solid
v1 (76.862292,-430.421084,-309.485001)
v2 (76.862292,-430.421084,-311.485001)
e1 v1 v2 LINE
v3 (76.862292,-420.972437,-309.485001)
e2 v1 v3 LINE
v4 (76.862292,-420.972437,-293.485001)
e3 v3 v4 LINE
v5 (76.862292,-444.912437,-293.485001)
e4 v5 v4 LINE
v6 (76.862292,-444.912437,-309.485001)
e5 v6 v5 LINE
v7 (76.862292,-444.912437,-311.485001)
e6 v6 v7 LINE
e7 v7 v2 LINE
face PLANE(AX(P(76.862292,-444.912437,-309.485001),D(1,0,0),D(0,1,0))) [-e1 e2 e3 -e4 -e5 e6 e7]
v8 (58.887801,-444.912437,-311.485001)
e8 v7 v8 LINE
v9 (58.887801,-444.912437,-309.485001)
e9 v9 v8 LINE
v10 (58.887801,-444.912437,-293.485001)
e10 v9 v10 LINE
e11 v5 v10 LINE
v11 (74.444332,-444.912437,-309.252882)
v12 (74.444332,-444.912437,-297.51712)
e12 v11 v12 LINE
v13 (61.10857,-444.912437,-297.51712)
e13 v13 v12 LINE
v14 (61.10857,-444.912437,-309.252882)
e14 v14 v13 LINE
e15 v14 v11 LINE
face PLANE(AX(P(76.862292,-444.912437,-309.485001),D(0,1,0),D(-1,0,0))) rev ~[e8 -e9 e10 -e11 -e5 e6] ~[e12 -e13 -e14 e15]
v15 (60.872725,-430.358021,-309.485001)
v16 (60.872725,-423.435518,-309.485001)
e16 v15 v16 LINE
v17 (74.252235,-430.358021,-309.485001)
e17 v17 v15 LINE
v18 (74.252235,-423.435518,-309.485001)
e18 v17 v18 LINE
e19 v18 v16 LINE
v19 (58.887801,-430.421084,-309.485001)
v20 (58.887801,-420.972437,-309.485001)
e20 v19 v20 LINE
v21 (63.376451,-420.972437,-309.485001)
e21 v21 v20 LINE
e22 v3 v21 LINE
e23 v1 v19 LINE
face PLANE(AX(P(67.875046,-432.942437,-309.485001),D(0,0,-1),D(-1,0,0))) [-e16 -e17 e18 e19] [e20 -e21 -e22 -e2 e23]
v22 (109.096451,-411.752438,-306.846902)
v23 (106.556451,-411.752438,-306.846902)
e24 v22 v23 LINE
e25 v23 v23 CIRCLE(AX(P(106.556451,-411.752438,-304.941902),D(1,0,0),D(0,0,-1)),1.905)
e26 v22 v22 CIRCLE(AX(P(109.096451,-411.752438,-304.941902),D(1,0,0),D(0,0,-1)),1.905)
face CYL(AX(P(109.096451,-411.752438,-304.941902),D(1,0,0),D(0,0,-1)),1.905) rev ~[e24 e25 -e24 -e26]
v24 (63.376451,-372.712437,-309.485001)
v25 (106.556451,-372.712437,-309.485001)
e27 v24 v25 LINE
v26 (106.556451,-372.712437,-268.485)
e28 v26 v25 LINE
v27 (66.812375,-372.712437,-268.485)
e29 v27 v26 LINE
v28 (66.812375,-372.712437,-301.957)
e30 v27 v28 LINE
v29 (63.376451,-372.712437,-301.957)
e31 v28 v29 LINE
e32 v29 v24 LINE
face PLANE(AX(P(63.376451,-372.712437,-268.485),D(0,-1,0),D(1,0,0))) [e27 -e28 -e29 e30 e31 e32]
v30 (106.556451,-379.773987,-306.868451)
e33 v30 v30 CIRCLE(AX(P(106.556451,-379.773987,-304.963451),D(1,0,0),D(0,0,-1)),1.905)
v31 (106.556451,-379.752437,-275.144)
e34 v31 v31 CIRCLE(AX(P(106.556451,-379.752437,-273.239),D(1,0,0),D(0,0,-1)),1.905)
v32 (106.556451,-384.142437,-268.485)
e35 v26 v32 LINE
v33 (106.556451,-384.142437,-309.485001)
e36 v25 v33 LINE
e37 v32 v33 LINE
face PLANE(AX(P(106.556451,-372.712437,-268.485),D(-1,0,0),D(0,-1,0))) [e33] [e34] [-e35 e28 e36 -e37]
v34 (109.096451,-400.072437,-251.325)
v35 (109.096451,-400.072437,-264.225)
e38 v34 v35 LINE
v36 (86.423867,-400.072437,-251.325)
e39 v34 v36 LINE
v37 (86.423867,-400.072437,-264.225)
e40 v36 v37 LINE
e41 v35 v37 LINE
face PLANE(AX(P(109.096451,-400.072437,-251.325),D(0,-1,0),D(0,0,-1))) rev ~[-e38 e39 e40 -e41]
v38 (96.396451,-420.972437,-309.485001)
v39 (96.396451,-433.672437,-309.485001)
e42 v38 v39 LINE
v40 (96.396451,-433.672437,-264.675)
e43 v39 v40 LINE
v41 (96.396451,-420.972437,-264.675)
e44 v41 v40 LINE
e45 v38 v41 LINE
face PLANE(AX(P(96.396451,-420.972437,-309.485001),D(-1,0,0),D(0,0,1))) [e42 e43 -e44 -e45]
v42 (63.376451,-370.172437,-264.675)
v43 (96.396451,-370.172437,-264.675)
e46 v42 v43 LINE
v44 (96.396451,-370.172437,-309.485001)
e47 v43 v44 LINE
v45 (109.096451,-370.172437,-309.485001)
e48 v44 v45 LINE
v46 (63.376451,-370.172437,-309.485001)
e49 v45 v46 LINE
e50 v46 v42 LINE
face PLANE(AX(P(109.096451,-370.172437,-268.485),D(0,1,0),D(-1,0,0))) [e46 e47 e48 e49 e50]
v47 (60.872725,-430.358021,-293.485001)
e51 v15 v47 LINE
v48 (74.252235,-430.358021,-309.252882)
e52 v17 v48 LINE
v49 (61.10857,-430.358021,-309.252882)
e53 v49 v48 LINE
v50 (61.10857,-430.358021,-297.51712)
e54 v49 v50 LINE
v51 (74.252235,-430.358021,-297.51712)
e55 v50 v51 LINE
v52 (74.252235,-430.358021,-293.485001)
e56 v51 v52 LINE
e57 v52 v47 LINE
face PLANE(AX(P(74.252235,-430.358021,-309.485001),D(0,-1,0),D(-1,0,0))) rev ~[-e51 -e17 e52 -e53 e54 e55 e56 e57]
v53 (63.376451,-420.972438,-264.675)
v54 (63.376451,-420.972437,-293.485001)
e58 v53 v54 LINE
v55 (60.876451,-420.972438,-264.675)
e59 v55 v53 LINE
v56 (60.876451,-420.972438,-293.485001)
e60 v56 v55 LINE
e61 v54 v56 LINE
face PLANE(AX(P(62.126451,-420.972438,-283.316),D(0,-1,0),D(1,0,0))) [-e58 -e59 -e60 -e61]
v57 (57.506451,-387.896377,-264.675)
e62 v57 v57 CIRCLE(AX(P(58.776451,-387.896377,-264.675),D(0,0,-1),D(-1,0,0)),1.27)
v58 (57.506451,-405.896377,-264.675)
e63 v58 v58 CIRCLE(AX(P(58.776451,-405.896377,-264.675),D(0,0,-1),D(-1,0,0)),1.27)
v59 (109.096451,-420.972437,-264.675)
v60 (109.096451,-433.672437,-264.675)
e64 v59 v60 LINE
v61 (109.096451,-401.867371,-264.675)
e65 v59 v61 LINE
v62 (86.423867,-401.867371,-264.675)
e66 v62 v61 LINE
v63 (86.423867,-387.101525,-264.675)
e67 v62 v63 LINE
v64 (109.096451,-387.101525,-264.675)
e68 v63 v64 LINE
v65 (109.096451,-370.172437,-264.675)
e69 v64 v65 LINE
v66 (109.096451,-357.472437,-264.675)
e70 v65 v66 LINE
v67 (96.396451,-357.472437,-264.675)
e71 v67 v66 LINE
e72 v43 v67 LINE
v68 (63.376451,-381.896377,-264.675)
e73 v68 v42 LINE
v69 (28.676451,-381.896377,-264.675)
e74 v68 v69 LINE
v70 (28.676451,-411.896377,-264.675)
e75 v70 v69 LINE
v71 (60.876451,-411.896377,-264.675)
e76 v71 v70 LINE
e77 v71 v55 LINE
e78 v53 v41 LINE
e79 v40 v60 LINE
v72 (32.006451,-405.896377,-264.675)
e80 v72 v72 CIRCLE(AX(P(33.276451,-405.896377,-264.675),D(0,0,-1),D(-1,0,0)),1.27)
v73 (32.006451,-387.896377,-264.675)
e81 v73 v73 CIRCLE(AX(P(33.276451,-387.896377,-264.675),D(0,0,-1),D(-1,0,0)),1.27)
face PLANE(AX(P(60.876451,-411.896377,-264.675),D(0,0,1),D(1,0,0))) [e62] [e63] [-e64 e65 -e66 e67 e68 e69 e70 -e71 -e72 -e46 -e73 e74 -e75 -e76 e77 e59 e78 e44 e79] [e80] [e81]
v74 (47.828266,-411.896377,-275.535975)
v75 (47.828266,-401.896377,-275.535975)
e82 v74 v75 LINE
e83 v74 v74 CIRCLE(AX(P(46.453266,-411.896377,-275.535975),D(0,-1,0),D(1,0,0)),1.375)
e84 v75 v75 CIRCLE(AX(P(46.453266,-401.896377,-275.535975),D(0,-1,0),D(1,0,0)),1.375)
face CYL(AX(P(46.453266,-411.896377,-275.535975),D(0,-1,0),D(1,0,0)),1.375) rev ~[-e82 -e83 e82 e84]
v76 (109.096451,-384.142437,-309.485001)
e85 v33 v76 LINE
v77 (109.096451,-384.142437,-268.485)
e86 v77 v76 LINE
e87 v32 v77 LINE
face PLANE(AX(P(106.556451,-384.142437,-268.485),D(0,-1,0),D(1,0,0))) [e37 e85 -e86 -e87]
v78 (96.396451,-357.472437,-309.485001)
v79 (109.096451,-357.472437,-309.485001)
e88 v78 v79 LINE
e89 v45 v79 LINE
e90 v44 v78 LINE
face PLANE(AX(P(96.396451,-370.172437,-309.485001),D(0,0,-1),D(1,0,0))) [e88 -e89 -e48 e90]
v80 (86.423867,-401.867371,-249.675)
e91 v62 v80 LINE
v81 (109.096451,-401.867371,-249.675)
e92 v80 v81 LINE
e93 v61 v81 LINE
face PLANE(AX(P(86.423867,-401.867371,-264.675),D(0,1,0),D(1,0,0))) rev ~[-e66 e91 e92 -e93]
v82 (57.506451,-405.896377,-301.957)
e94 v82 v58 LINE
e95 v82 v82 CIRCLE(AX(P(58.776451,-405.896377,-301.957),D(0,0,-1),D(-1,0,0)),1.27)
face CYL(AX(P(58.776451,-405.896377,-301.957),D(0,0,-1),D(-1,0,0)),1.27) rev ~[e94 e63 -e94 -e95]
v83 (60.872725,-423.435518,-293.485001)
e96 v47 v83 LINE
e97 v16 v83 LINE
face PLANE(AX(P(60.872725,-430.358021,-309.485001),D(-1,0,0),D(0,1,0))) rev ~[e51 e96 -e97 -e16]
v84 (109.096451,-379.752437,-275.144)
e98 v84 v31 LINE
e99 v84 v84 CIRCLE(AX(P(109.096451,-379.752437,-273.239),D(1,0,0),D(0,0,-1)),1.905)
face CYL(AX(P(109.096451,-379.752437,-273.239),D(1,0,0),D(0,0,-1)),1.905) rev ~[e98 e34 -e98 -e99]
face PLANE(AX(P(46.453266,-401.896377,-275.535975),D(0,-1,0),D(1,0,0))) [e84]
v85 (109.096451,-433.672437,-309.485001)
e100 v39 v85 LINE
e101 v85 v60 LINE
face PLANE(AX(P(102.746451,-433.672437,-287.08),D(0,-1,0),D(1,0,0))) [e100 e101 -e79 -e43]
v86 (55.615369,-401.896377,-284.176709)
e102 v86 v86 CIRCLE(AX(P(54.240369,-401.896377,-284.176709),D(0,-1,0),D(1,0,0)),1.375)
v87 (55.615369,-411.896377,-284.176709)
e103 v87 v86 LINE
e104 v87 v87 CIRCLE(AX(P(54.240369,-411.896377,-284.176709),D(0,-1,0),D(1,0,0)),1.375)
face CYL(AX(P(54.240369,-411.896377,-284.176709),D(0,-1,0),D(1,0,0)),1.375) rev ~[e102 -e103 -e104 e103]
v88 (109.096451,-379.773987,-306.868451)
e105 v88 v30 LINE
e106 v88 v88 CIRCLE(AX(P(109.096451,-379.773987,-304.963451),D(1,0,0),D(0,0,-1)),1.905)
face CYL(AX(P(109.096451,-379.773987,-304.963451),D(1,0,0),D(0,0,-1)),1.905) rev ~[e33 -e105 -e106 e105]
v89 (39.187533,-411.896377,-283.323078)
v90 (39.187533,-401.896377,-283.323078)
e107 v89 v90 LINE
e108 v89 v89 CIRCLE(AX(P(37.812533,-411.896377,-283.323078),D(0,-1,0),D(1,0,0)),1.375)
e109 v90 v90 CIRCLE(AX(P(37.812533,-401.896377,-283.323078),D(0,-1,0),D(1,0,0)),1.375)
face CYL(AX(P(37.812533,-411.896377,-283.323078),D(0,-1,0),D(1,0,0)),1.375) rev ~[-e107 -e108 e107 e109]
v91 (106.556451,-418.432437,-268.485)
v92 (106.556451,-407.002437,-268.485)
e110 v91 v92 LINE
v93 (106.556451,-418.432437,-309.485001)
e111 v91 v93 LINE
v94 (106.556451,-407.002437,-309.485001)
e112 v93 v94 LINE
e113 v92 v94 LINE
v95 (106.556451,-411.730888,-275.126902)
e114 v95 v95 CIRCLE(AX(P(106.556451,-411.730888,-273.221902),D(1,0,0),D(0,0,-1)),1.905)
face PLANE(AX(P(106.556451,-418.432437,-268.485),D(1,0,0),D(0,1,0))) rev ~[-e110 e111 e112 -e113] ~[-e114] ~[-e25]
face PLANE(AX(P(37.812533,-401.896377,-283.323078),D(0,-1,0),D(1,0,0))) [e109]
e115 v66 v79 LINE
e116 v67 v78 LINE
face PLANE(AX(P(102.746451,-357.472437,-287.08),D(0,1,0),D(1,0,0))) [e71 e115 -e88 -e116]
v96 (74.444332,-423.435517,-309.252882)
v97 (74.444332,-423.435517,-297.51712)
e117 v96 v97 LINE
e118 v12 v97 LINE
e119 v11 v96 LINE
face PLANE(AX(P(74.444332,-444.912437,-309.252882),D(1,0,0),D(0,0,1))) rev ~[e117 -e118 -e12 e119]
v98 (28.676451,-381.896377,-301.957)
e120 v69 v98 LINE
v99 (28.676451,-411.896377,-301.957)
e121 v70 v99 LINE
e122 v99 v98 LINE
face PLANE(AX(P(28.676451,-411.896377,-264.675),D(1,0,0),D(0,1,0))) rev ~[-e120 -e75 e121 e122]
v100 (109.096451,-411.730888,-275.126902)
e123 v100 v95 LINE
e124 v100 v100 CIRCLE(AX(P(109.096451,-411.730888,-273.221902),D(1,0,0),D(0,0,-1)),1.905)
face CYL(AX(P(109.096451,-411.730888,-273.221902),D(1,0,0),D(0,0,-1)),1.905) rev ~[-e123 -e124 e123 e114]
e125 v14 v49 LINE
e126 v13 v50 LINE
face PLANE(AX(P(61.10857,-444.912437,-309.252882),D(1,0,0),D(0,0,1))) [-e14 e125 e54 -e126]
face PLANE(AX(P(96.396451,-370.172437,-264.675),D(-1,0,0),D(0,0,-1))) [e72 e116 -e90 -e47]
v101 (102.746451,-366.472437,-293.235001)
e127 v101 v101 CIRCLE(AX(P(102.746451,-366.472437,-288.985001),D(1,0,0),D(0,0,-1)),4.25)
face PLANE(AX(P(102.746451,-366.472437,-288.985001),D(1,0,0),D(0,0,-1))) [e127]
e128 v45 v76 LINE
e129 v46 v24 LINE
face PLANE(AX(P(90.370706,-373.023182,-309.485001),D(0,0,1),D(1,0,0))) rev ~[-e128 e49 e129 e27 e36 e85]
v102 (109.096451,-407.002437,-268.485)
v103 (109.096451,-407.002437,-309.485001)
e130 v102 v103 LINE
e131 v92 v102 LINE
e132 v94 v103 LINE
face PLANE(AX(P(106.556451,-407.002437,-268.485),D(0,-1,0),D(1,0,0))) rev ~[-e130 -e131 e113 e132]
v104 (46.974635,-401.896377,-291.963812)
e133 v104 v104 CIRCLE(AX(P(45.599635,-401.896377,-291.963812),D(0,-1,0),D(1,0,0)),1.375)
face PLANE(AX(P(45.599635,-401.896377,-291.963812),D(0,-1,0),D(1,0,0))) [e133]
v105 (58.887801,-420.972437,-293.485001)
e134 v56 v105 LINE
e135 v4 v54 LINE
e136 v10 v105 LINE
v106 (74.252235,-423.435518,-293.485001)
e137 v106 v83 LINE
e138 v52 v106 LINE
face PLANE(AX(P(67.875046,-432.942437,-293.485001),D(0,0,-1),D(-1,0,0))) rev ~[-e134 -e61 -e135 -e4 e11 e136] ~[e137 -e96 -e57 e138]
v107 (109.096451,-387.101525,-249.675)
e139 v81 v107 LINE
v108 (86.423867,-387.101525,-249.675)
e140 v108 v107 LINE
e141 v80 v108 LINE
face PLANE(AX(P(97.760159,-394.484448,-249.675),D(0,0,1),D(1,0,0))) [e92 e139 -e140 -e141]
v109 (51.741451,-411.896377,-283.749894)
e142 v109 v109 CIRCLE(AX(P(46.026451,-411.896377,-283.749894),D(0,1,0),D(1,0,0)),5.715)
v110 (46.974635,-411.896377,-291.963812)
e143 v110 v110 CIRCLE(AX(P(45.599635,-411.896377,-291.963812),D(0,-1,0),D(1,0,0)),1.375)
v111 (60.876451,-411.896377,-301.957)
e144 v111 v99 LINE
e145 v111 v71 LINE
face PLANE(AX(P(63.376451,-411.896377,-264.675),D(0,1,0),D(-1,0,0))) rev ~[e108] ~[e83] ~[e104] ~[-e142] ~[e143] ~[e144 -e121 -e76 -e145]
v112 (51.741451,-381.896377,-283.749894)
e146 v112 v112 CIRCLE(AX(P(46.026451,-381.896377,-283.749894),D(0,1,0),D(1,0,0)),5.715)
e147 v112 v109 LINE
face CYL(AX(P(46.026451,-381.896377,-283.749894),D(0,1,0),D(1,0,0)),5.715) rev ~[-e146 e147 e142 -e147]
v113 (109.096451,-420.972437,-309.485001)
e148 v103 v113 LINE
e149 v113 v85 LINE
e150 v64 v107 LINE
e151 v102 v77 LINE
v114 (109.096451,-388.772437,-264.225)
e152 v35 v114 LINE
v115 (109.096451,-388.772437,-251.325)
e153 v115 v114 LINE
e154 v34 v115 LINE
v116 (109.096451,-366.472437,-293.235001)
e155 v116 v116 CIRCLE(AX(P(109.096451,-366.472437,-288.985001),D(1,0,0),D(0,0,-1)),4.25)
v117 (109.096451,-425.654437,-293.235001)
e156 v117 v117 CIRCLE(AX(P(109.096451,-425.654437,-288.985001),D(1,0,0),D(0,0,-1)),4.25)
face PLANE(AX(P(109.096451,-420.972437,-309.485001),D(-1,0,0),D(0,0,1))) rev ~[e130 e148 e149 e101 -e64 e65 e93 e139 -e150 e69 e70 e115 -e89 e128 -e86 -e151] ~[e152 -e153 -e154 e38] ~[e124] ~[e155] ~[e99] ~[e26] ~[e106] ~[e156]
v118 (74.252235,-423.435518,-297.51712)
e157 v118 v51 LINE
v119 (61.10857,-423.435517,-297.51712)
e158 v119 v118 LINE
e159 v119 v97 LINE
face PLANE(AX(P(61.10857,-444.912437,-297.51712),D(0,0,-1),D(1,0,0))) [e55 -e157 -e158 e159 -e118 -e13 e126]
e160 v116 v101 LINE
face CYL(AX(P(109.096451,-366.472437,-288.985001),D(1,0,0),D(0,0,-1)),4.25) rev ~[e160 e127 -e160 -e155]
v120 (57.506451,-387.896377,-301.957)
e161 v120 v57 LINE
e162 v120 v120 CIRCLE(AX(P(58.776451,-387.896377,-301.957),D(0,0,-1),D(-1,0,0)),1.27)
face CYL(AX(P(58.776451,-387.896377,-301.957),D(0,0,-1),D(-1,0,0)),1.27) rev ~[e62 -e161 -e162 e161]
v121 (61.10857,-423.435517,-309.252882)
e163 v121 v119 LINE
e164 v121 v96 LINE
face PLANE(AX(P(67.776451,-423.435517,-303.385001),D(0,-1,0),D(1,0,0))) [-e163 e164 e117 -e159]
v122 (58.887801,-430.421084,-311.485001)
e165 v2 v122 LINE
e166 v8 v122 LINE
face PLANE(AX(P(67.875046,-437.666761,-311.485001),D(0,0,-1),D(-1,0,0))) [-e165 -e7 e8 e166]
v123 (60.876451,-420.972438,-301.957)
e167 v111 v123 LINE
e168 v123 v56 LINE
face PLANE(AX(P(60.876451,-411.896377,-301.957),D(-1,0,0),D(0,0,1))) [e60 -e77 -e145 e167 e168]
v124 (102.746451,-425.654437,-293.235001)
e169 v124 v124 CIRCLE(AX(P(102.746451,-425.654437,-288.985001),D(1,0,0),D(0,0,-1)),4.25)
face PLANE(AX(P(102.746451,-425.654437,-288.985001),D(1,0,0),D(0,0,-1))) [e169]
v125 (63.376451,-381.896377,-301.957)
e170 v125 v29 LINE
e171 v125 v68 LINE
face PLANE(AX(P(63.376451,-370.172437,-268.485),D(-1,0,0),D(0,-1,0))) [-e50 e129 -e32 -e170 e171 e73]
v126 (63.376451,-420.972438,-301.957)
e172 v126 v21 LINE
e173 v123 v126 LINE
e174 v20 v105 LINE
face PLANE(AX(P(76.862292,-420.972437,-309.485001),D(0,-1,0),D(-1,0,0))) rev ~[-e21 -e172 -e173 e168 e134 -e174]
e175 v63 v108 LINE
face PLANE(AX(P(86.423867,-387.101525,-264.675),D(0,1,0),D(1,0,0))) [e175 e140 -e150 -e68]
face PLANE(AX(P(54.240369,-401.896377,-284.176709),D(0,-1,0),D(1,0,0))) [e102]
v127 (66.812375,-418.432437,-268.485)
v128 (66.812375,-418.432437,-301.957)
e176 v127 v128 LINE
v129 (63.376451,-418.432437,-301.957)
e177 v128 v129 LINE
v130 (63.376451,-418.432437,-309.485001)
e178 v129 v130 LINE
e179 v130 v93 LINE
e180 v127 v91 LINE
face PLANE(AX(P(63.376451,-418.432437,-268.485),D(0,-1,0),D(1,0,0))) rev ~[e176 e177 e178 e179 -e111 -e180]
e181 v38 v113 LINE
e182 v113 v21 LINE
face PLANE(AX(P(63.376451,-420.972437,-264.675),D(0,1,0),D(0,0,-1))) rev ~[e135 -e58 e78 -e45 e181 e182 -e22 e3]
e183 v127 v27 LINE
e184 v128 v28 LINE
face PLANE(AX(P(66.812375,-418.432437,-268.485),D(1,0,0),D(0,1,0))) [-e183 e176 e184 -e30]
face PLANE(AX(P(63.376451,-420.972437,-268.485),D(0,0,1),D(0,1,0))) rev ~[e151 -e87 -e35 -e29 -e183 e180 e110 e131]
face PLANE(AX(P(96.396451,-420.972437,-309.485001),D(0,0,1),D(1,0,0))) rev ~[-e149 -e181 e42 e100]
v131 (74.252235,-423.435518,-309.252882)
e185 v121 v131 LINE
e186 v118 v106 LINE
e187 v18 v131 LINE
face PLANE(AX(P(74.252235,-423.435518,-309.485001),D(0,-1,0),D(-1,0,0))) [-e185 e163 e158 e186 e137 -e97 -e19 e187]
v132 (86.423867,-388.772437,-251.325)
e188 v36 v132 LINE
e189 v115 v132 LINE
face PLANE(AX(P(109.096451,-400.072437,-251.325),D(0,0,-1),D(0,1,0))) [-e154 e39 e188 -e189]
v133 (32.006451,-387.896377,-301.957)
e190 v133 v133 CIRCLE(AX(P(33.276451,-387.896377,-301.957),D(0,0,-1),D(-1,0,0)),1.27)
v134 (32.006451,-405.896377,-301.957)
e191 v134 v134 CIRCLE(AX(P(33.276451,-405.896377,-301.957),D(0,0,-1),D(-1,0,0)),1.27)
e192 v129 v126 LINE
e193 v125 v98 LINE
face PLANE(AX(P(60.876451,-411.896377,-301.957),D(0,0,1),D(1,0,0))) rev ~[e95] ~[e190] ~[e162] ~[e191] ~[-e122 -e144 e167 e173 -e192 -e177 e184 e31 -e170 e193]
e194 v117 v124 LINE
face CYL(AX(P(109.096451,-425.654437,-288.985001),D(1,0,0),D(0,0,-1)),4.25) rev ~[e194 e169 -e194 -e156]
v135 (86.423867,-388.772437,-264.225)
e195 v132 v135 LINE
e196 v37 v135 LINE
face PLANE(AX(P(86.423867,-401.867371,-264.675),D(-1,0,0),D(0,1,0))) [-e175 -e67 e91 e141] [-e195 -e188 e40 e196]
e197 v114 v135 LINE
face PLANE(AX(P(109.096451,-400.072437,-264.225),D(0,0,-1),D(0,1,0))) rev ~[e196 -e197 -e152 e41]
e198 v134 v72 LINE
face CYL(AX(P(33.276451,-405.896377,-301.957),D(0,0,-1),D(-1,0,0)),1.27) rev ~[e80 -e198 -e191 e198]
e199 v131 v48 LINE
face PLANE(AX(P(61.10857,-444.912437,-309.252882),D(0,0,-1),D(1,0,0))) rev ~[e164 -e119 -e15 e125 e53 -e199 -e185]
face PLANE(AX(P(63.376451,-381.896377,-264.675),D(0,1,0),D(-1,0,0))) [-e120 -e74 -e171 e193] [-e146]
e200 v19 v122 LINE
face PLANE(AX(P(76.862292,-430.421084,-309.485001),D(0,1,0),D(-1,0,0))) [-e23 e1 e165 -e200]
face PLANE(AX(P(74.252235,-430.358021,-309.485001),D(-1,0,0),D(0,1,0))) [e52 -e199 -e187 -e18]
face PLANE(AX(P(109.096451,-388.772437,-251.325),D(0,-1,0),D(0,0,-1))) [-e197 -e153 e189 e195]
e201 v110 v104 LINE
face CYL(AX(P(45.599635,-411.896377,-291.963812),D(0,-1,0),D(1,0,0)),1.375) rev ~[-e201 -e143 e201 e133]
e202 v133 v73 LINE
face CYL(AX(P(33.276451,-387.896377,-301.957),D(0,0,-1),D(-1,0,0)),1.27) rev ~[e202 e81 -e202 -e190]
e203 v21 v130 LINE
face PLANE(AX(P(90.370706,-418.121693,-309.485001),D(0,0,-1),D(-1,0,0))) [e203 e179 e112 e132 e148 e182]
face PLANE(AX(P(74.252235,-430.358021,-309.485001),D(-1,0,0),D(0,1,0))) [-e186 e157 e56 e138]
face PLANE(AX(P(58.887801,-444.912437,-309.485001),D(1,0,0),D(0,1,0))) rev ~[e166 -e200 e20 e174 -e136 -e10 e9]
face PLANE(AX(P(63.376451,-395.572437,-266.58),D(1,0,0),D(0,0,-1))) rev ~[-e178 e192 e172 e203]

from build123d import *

# Parameters (mm, degrees)
SKETCH1_W            = 34.7
SKETCH1_H            = 30
BOSS_EXTRUDE1_DEPTH  = 37.282
SKETCH4_R            = 5.715
CUT_EXTRUDE1_DEPTH   = 31
SKETCH8_W            = 3.81
SKETCH8_H            = 50.8
BOSS_EXTRUDE6_DEPTH  = 45.72
BOSS_EXTRUDE7_DEPTH  = 41.000001
CUT_EXTRUDE2_REACH   = 82.42
SKETCH10_R           = 1.905
SKETCH11_W           = 12.7
SKETCH11_H           = 44.810000611
BOSS_EXTRUDE8_DEPTH  = 12.7
SKETCH12_W           = 12.7
SKETCH12_H           = 44.810000611
BOSS_EXTRUDE9_DEPTH  = 12.7
SKETCH13_R           = 4.25
CUT_EXTRUDE3_DEPTH   = 6.35
SKETCH17_W           = 3.43592392
SKETCH17_H           = 45.72
BOSS_EXTRUDE12_DEPTH = 33.472
SKETCH16_W           = 2.5
SKETCH16_H           = 37.282
BOSS_EXTRUDE11_DEPTH = 9.076061
SKETCH21_W           = 17.974491303
SKETCH21_H           = 23.94
BOSS_EXTRUDE13_DEPTH = 16
SKETCH22_W           = 13.379509134
SKETCH22_H           = 6.922502695
CUT_EXTRUDE4_DEPTH   = 45.810000611
SKETCH23_W           = 13.335762063
SKETCH23_H           = 11.735762062
CUT_EXTRUDE5_DEPTH   = 21.47692
SKETCH24_W           = 22.672584076
SKETCH24_H           = 14.765845737
BOSS_EXTRUDE14_DEPTH = 15
SKETCH25_W           = 12.9
SKETCH25_H           = 11.3
CUT_EXTRUDE6_DEPTH   = 22.672584
SKETCH5_R            = 1.375
CUT_EXTRUDE7_DEPTH   = 10
SKETCH6_R            = 1.27
CUT_EXTRUDE8_DEPTH   = 53.282
SKETCH27_W           = 17.974491303
SKETCH27_H           = 14.491353785
BOSS_EXTRUDE15_DEPTH = 2


with BuildPart() as part:
    # Sketch1 → Boss-Extrude1 (new body)
    with BuildSketch(Plane(origin=(0, 0, -264.675), x_dir=(-1, 0, 0), z_dir=(0, 0, -1))):
        with Locations((-46.026450848, -396.896376681)):
            Rectangle(SKETCH1_W, SKETCH1_H)
    extrude(amount=BOSS_EXTRUDE1_DEPTH)

    # Sketch4 → Cut-Extrude1 (cut, through all)
    with BuildSketch(Plane(origin=(0, -381.896376681, 0), x_dir=(1, 0, 0), z_dir=(0, 1, 0))):
        with Locations((46.026450848, 283.749893694)):
            Circle(SKETCH4_R)
    extrude(amount=-CUT_EXTRUDE1_DEPTH, mode=Mode.SUBTRACT)

    # Sketch8 → Boss-Extrude6 (add)
    with BuildSketch(Plane(origin=(63.376450848, 0, 0), x_dir=(0, 0, -1), z_dir=(1, 0, 0))):
        with Locations((266.58, -395.572437442)):
            Rectangle(SKETCH8_W, SKETCH8_H)
    extrude(amount=BOSS_EXTRUDE6_DEPTH)

    # Sketch9 → Boss-Extrude7 (add)
    with BuildSketch(Plane(origin=(0, 0, -268.485), x_dir=(-1, 0, 0), z_dir=(0, 0, -1))):
        Polygon((-109.096450848, -370.172437442), (-63.376450848, -370.172437442), (-63.376450848, -372.712437442), (-106.556450848, -372.712437442), (-106.556450848, -384.142437442), (-109.096450848, -384.142437442), (-109.096450848, -372.712437442), align=None)
        Polygon((-109.096450848, -420.972437442), (-63.376450848, -420.972437442), (-63.376450848, -418.432437442), (-106.556450848, -418.432437442), (-106.556450848, -407.002437442), (-109.096450848, -407.002437442), (-109.096450848, -418.432437442), align=None)
    extrude(amount=BOSS_EXTRUDE7_DEPTH)

    # Sketch10 → Cut-Extrude2 (cut, up to next)
    with BuildSketch(Plane(origin=(109.096450848, 0, 0), x_dir=(0, 0, -1), z_dir=(1, 0, 0)), mode=Mode.PRIVATE) as cut_extrude2_sk1:
        with Locations((304.963451053, -379.773986799)):
            Circle(SKETCH10_R)
    cut_extrude2_tool1 = extrude(cut_extrude2_sk1.sketch, amount=-CUT_EXTRUDE2_REACH, mode=Mode.PRIVATE) & part.part
    add(cut_extrude2_tool1.solids().sort_by_distance((109.096451, -379.773987, -304.963451))[0], mode=Mode.SUBTRACT)
    # Sketch10 → Cut-Extrude2 (cut, up to next)
    with BuildSketch(Plane(origin=(109.096450848, 0, 0), x_dir=(0, 0, -1), z_dir=(1, 0, 0)), mode=Mode.PRIVATE) as cut_extrude2_sk2:
        with Locations((304.941901697, -411.752437852)):
            Circle(SKETCH10_R)
    cut_extrude2_tool2 = extrude(cut_extrude2_sk2.sketch, amount=-CUT_EXTRUDE2_REACH, mode=Mode.PRIVATE) & part.part
    add(cut_extrude2_tool2.solids().sort_by_distance((109.096451, -411.752438, -304.941902))[0], mode=Mode.SUBTRACT)
    # Sketch10 → Cut-Extrude2 (cut, up to next)
    with BuildSketch(Plane(origin=(109.096450848, 0, 0), x_dir=(0, 0, -1), z_dir=(1, 0, 0)), mode=Mode.PRIVATE) as cut_extrude2_sk3:
        with Locations((273.239000003, -379.752437442)):
            Circle(SKETCH10_R)
    cut_extrude2_tool3 = extrude(cut_extrude2_sk3.sketch, amount=-CUT_EXTRUDE2_REACH, mode=Mode.PRIVATE) & part.part
    add(cut_extrude2_tool3.solids().sort_by_distance((109.096451, -379.752437, -273.239))[0], mode=Mode.SUBTRACT)
    # Sketch10 → Cut-Extrude2 (cut, up to next)
    with BuildSketch(Plane(origin=(109.096450848, 0, 0), x_dir=(0, 0, -1), z_dir=(1, 0, 0)), mode=Mode.PRIVATE) as cut_extrude2_sk4:
        with Locations((273.221901697, -411.730888495)):
            Circle(SKETCH10_R)
    cut_extrude2_tool4 = extrude(cut_extrude2_sk4.sketch, amount=-CUT_EXTRUDE2_REACH, mode=Mode.PRIVATE) & part.part
    add(cut_extrude2_tool4.solids().sort_by_distance((109.096451, -411.730888, -273.221902))[0], mode=Mode.SUBTRACT)

    # Sketch11 → Boss-Extrude8 (add)
    with BuildSketch(Plane(origin=(0, -370.172437442, 0), x_dir=(1, 0, 0), z_dir=(0, 1, 0))):
        with Locations((102.746450848, 287.080000305)):
            Rectangle(SKETCH11_W, SKETCH11_H)
    extrude(amount=BOSS_EXTRUDE8_DEPTH)

    # Sketch12 → Boss-Extrude9 (add)
    with BuildSketch(Plane.XZ.offset(420.972437442)):
        with Locations((102.746450848, -287.080000305)):
            Rectangle(SKETCH12_W, SKETCH12_H)
    extrude(amount=BOSS_EXTRUDE9_DEPTH)

    # Sketch13 → Cut-Extrude3 (cut)
    with BuildSketch(Plane(origin=(109.096450848, 0, 0), x_dir=(0, 0, -1), z_dir=(1, 0, 0))):
        with Locations((288.985000522, -366.472437442)):
            Circle(SKETCH13_R)
        with Locations((288.985000522, -425.654437442)):
            Circle(SKETCH13_R)
    extrude(amount=-CUT_EXTRUDE3_DEPTH, mode=Mode.SUBTRACT)

    # Sketch17 → Boss-Extrude12 (add)
    with BuildSketch(Plane(origin=(0, 0, -268.485), x_dir=(-1, 0, 0), z_dir=(0, 0, -1))):
        with Locations((-65.094412808, -395.572437442)):
            Rectangle(SKETCH17_W, SKETCH17_H)
    extrude(amount=BOSS_EXTRUDE12_DEPTH)

    # Sketch16 → Boss-Extrude11 (add)
    with BuildSketch(Plane.XZ.offset(411.896376681)):
        with Locations((62.126450848, -283.316)):
            Rectangle(SKETCH16_W, SKETCH16_H)
    extrude(amount=BOSS_EXTRUDE11_DEPTH)

    # Sketch21 → Boss-Extrude13 (add)
    with BuildSketch(Plane(origin=(0, 0, -309.485000611), x_dir=(-1, 0, 0), z_dir=(0, 0, -1))):
        with Locations((-67.875046239, -432.942437442)):
            Rectangle(SKETCH21_W, SKETCH21_H)
    extrude(amount=-BOSS_EXTRUDE13_DEPTH)

    # Sketch22 → Cut-Extrude4 (cut, through all)
    with BuildSketch(Plane(origin=(0, 0, -309.485000611), x_dir=(-1, 0, 0), z_dir=(0, 0, -1))):
        with Locations((-67.562480009, -426.896769229)):
            Rectangle(SKETCH22_W, SKETCH22_H)
    extrude(amount=-CUT_EXTRUDE4_DEPTH, mode=Mode.SUBTRACT)

    # Sketch23 → Cut-Extrude5 (cut)
    with BuildSketch(Plane.XZ.offset(444.912437442)):
        with Locations((67.776450849, -303.385000611)):
            Rectangle(SKETCH23_W, SKETCH23_H)
    extrude(amount=-CUT_EXTRUDE5_DEPTH, mode=Mode.SUBTRACT)

    # Sketch24 → Boss-Extrude14 (add)
    with BuildSketch(Plane.XY.offset(-264.675)):
        with Locations((97.76015881, -394.484447642)):
            Rectangle(SKETCH24_W, SKETCH24_H)
    extrude(amount=BOSS_EXTRUDE14_DEPTH)

    # Sketch25 → Cut-Extrude6 (cut)
    with BuildSketch(Plane(origin=(109.096450848, 0, 0), x_dir=(0, 0, -1), z_dir=(1, 0, 0))):
        with Locations((257.775, -394.422437442)):
            Rectangle(SKETCH25_W, SKETCH25_H)
    extrude(amount=-CUT_EXTRUDE6_DEPTH, mode=Mode.SUBTRACT)

    # Sketch5 → Cut-Extrude7 (cut)
    with BuildSketch(Plane.XZ.offset(411.896376681)):
        with Locations((46.453266338, -275.535975412)):
            Circle(SKETCH5_R)
        with Locations((54.24036913, -284.176709184)):
            Circle(SKETCH5_R)
        with Locations((45.599635358, -291.963811975)):
            Circle(SKETCH5_R)
        with Locations((37.812532567, -283.323078204)):
            Circle(SKETCH5_R)
    extrude(amount=-CUT_EXTRUDE7_DEPTH, mode=Mode.SUBTRACT)

    # Sketch6 → Cut-Extrude8 (cut, through all)
    with BuildSketch(Plane(origin=(0, 0, -301.957), x_dir=(-1, 0, 0), z_dir=(0, 0, -1))):
        with Locations((-58.776450848, -387.896376681)):
            Circle(SKETCH6_R)
        with Locations((-33.276450848, -387.896376681)):
            Circle(SKETCH6_R)
        with Locations((-33.276450848, -405.896376681)):
            Circle(SKETCH6_R)
        with Locations((-58.776450848, -405.896376681)):
            Circle(SKETCH6_R)
    extrude(amount=-CUT_EXTRUDE8_DEPTH, mode=Mode.SUBTRACT)

    # Sketch27 → Boss-Extrude15 (add)
    with BuildSketch(Plane(origin=(0, 0, -309.485000611), x_dir=(-1, 0, 0), z_dir=(0, 0, -1))):
        with Locations((-67.875046239, -437.66676055)):
            Rectangle(SKETCH27_W, SKETCH27_H)
    extrude(amount=BOSS_EXTRUDE15_DEPTH)


solid = part.part
